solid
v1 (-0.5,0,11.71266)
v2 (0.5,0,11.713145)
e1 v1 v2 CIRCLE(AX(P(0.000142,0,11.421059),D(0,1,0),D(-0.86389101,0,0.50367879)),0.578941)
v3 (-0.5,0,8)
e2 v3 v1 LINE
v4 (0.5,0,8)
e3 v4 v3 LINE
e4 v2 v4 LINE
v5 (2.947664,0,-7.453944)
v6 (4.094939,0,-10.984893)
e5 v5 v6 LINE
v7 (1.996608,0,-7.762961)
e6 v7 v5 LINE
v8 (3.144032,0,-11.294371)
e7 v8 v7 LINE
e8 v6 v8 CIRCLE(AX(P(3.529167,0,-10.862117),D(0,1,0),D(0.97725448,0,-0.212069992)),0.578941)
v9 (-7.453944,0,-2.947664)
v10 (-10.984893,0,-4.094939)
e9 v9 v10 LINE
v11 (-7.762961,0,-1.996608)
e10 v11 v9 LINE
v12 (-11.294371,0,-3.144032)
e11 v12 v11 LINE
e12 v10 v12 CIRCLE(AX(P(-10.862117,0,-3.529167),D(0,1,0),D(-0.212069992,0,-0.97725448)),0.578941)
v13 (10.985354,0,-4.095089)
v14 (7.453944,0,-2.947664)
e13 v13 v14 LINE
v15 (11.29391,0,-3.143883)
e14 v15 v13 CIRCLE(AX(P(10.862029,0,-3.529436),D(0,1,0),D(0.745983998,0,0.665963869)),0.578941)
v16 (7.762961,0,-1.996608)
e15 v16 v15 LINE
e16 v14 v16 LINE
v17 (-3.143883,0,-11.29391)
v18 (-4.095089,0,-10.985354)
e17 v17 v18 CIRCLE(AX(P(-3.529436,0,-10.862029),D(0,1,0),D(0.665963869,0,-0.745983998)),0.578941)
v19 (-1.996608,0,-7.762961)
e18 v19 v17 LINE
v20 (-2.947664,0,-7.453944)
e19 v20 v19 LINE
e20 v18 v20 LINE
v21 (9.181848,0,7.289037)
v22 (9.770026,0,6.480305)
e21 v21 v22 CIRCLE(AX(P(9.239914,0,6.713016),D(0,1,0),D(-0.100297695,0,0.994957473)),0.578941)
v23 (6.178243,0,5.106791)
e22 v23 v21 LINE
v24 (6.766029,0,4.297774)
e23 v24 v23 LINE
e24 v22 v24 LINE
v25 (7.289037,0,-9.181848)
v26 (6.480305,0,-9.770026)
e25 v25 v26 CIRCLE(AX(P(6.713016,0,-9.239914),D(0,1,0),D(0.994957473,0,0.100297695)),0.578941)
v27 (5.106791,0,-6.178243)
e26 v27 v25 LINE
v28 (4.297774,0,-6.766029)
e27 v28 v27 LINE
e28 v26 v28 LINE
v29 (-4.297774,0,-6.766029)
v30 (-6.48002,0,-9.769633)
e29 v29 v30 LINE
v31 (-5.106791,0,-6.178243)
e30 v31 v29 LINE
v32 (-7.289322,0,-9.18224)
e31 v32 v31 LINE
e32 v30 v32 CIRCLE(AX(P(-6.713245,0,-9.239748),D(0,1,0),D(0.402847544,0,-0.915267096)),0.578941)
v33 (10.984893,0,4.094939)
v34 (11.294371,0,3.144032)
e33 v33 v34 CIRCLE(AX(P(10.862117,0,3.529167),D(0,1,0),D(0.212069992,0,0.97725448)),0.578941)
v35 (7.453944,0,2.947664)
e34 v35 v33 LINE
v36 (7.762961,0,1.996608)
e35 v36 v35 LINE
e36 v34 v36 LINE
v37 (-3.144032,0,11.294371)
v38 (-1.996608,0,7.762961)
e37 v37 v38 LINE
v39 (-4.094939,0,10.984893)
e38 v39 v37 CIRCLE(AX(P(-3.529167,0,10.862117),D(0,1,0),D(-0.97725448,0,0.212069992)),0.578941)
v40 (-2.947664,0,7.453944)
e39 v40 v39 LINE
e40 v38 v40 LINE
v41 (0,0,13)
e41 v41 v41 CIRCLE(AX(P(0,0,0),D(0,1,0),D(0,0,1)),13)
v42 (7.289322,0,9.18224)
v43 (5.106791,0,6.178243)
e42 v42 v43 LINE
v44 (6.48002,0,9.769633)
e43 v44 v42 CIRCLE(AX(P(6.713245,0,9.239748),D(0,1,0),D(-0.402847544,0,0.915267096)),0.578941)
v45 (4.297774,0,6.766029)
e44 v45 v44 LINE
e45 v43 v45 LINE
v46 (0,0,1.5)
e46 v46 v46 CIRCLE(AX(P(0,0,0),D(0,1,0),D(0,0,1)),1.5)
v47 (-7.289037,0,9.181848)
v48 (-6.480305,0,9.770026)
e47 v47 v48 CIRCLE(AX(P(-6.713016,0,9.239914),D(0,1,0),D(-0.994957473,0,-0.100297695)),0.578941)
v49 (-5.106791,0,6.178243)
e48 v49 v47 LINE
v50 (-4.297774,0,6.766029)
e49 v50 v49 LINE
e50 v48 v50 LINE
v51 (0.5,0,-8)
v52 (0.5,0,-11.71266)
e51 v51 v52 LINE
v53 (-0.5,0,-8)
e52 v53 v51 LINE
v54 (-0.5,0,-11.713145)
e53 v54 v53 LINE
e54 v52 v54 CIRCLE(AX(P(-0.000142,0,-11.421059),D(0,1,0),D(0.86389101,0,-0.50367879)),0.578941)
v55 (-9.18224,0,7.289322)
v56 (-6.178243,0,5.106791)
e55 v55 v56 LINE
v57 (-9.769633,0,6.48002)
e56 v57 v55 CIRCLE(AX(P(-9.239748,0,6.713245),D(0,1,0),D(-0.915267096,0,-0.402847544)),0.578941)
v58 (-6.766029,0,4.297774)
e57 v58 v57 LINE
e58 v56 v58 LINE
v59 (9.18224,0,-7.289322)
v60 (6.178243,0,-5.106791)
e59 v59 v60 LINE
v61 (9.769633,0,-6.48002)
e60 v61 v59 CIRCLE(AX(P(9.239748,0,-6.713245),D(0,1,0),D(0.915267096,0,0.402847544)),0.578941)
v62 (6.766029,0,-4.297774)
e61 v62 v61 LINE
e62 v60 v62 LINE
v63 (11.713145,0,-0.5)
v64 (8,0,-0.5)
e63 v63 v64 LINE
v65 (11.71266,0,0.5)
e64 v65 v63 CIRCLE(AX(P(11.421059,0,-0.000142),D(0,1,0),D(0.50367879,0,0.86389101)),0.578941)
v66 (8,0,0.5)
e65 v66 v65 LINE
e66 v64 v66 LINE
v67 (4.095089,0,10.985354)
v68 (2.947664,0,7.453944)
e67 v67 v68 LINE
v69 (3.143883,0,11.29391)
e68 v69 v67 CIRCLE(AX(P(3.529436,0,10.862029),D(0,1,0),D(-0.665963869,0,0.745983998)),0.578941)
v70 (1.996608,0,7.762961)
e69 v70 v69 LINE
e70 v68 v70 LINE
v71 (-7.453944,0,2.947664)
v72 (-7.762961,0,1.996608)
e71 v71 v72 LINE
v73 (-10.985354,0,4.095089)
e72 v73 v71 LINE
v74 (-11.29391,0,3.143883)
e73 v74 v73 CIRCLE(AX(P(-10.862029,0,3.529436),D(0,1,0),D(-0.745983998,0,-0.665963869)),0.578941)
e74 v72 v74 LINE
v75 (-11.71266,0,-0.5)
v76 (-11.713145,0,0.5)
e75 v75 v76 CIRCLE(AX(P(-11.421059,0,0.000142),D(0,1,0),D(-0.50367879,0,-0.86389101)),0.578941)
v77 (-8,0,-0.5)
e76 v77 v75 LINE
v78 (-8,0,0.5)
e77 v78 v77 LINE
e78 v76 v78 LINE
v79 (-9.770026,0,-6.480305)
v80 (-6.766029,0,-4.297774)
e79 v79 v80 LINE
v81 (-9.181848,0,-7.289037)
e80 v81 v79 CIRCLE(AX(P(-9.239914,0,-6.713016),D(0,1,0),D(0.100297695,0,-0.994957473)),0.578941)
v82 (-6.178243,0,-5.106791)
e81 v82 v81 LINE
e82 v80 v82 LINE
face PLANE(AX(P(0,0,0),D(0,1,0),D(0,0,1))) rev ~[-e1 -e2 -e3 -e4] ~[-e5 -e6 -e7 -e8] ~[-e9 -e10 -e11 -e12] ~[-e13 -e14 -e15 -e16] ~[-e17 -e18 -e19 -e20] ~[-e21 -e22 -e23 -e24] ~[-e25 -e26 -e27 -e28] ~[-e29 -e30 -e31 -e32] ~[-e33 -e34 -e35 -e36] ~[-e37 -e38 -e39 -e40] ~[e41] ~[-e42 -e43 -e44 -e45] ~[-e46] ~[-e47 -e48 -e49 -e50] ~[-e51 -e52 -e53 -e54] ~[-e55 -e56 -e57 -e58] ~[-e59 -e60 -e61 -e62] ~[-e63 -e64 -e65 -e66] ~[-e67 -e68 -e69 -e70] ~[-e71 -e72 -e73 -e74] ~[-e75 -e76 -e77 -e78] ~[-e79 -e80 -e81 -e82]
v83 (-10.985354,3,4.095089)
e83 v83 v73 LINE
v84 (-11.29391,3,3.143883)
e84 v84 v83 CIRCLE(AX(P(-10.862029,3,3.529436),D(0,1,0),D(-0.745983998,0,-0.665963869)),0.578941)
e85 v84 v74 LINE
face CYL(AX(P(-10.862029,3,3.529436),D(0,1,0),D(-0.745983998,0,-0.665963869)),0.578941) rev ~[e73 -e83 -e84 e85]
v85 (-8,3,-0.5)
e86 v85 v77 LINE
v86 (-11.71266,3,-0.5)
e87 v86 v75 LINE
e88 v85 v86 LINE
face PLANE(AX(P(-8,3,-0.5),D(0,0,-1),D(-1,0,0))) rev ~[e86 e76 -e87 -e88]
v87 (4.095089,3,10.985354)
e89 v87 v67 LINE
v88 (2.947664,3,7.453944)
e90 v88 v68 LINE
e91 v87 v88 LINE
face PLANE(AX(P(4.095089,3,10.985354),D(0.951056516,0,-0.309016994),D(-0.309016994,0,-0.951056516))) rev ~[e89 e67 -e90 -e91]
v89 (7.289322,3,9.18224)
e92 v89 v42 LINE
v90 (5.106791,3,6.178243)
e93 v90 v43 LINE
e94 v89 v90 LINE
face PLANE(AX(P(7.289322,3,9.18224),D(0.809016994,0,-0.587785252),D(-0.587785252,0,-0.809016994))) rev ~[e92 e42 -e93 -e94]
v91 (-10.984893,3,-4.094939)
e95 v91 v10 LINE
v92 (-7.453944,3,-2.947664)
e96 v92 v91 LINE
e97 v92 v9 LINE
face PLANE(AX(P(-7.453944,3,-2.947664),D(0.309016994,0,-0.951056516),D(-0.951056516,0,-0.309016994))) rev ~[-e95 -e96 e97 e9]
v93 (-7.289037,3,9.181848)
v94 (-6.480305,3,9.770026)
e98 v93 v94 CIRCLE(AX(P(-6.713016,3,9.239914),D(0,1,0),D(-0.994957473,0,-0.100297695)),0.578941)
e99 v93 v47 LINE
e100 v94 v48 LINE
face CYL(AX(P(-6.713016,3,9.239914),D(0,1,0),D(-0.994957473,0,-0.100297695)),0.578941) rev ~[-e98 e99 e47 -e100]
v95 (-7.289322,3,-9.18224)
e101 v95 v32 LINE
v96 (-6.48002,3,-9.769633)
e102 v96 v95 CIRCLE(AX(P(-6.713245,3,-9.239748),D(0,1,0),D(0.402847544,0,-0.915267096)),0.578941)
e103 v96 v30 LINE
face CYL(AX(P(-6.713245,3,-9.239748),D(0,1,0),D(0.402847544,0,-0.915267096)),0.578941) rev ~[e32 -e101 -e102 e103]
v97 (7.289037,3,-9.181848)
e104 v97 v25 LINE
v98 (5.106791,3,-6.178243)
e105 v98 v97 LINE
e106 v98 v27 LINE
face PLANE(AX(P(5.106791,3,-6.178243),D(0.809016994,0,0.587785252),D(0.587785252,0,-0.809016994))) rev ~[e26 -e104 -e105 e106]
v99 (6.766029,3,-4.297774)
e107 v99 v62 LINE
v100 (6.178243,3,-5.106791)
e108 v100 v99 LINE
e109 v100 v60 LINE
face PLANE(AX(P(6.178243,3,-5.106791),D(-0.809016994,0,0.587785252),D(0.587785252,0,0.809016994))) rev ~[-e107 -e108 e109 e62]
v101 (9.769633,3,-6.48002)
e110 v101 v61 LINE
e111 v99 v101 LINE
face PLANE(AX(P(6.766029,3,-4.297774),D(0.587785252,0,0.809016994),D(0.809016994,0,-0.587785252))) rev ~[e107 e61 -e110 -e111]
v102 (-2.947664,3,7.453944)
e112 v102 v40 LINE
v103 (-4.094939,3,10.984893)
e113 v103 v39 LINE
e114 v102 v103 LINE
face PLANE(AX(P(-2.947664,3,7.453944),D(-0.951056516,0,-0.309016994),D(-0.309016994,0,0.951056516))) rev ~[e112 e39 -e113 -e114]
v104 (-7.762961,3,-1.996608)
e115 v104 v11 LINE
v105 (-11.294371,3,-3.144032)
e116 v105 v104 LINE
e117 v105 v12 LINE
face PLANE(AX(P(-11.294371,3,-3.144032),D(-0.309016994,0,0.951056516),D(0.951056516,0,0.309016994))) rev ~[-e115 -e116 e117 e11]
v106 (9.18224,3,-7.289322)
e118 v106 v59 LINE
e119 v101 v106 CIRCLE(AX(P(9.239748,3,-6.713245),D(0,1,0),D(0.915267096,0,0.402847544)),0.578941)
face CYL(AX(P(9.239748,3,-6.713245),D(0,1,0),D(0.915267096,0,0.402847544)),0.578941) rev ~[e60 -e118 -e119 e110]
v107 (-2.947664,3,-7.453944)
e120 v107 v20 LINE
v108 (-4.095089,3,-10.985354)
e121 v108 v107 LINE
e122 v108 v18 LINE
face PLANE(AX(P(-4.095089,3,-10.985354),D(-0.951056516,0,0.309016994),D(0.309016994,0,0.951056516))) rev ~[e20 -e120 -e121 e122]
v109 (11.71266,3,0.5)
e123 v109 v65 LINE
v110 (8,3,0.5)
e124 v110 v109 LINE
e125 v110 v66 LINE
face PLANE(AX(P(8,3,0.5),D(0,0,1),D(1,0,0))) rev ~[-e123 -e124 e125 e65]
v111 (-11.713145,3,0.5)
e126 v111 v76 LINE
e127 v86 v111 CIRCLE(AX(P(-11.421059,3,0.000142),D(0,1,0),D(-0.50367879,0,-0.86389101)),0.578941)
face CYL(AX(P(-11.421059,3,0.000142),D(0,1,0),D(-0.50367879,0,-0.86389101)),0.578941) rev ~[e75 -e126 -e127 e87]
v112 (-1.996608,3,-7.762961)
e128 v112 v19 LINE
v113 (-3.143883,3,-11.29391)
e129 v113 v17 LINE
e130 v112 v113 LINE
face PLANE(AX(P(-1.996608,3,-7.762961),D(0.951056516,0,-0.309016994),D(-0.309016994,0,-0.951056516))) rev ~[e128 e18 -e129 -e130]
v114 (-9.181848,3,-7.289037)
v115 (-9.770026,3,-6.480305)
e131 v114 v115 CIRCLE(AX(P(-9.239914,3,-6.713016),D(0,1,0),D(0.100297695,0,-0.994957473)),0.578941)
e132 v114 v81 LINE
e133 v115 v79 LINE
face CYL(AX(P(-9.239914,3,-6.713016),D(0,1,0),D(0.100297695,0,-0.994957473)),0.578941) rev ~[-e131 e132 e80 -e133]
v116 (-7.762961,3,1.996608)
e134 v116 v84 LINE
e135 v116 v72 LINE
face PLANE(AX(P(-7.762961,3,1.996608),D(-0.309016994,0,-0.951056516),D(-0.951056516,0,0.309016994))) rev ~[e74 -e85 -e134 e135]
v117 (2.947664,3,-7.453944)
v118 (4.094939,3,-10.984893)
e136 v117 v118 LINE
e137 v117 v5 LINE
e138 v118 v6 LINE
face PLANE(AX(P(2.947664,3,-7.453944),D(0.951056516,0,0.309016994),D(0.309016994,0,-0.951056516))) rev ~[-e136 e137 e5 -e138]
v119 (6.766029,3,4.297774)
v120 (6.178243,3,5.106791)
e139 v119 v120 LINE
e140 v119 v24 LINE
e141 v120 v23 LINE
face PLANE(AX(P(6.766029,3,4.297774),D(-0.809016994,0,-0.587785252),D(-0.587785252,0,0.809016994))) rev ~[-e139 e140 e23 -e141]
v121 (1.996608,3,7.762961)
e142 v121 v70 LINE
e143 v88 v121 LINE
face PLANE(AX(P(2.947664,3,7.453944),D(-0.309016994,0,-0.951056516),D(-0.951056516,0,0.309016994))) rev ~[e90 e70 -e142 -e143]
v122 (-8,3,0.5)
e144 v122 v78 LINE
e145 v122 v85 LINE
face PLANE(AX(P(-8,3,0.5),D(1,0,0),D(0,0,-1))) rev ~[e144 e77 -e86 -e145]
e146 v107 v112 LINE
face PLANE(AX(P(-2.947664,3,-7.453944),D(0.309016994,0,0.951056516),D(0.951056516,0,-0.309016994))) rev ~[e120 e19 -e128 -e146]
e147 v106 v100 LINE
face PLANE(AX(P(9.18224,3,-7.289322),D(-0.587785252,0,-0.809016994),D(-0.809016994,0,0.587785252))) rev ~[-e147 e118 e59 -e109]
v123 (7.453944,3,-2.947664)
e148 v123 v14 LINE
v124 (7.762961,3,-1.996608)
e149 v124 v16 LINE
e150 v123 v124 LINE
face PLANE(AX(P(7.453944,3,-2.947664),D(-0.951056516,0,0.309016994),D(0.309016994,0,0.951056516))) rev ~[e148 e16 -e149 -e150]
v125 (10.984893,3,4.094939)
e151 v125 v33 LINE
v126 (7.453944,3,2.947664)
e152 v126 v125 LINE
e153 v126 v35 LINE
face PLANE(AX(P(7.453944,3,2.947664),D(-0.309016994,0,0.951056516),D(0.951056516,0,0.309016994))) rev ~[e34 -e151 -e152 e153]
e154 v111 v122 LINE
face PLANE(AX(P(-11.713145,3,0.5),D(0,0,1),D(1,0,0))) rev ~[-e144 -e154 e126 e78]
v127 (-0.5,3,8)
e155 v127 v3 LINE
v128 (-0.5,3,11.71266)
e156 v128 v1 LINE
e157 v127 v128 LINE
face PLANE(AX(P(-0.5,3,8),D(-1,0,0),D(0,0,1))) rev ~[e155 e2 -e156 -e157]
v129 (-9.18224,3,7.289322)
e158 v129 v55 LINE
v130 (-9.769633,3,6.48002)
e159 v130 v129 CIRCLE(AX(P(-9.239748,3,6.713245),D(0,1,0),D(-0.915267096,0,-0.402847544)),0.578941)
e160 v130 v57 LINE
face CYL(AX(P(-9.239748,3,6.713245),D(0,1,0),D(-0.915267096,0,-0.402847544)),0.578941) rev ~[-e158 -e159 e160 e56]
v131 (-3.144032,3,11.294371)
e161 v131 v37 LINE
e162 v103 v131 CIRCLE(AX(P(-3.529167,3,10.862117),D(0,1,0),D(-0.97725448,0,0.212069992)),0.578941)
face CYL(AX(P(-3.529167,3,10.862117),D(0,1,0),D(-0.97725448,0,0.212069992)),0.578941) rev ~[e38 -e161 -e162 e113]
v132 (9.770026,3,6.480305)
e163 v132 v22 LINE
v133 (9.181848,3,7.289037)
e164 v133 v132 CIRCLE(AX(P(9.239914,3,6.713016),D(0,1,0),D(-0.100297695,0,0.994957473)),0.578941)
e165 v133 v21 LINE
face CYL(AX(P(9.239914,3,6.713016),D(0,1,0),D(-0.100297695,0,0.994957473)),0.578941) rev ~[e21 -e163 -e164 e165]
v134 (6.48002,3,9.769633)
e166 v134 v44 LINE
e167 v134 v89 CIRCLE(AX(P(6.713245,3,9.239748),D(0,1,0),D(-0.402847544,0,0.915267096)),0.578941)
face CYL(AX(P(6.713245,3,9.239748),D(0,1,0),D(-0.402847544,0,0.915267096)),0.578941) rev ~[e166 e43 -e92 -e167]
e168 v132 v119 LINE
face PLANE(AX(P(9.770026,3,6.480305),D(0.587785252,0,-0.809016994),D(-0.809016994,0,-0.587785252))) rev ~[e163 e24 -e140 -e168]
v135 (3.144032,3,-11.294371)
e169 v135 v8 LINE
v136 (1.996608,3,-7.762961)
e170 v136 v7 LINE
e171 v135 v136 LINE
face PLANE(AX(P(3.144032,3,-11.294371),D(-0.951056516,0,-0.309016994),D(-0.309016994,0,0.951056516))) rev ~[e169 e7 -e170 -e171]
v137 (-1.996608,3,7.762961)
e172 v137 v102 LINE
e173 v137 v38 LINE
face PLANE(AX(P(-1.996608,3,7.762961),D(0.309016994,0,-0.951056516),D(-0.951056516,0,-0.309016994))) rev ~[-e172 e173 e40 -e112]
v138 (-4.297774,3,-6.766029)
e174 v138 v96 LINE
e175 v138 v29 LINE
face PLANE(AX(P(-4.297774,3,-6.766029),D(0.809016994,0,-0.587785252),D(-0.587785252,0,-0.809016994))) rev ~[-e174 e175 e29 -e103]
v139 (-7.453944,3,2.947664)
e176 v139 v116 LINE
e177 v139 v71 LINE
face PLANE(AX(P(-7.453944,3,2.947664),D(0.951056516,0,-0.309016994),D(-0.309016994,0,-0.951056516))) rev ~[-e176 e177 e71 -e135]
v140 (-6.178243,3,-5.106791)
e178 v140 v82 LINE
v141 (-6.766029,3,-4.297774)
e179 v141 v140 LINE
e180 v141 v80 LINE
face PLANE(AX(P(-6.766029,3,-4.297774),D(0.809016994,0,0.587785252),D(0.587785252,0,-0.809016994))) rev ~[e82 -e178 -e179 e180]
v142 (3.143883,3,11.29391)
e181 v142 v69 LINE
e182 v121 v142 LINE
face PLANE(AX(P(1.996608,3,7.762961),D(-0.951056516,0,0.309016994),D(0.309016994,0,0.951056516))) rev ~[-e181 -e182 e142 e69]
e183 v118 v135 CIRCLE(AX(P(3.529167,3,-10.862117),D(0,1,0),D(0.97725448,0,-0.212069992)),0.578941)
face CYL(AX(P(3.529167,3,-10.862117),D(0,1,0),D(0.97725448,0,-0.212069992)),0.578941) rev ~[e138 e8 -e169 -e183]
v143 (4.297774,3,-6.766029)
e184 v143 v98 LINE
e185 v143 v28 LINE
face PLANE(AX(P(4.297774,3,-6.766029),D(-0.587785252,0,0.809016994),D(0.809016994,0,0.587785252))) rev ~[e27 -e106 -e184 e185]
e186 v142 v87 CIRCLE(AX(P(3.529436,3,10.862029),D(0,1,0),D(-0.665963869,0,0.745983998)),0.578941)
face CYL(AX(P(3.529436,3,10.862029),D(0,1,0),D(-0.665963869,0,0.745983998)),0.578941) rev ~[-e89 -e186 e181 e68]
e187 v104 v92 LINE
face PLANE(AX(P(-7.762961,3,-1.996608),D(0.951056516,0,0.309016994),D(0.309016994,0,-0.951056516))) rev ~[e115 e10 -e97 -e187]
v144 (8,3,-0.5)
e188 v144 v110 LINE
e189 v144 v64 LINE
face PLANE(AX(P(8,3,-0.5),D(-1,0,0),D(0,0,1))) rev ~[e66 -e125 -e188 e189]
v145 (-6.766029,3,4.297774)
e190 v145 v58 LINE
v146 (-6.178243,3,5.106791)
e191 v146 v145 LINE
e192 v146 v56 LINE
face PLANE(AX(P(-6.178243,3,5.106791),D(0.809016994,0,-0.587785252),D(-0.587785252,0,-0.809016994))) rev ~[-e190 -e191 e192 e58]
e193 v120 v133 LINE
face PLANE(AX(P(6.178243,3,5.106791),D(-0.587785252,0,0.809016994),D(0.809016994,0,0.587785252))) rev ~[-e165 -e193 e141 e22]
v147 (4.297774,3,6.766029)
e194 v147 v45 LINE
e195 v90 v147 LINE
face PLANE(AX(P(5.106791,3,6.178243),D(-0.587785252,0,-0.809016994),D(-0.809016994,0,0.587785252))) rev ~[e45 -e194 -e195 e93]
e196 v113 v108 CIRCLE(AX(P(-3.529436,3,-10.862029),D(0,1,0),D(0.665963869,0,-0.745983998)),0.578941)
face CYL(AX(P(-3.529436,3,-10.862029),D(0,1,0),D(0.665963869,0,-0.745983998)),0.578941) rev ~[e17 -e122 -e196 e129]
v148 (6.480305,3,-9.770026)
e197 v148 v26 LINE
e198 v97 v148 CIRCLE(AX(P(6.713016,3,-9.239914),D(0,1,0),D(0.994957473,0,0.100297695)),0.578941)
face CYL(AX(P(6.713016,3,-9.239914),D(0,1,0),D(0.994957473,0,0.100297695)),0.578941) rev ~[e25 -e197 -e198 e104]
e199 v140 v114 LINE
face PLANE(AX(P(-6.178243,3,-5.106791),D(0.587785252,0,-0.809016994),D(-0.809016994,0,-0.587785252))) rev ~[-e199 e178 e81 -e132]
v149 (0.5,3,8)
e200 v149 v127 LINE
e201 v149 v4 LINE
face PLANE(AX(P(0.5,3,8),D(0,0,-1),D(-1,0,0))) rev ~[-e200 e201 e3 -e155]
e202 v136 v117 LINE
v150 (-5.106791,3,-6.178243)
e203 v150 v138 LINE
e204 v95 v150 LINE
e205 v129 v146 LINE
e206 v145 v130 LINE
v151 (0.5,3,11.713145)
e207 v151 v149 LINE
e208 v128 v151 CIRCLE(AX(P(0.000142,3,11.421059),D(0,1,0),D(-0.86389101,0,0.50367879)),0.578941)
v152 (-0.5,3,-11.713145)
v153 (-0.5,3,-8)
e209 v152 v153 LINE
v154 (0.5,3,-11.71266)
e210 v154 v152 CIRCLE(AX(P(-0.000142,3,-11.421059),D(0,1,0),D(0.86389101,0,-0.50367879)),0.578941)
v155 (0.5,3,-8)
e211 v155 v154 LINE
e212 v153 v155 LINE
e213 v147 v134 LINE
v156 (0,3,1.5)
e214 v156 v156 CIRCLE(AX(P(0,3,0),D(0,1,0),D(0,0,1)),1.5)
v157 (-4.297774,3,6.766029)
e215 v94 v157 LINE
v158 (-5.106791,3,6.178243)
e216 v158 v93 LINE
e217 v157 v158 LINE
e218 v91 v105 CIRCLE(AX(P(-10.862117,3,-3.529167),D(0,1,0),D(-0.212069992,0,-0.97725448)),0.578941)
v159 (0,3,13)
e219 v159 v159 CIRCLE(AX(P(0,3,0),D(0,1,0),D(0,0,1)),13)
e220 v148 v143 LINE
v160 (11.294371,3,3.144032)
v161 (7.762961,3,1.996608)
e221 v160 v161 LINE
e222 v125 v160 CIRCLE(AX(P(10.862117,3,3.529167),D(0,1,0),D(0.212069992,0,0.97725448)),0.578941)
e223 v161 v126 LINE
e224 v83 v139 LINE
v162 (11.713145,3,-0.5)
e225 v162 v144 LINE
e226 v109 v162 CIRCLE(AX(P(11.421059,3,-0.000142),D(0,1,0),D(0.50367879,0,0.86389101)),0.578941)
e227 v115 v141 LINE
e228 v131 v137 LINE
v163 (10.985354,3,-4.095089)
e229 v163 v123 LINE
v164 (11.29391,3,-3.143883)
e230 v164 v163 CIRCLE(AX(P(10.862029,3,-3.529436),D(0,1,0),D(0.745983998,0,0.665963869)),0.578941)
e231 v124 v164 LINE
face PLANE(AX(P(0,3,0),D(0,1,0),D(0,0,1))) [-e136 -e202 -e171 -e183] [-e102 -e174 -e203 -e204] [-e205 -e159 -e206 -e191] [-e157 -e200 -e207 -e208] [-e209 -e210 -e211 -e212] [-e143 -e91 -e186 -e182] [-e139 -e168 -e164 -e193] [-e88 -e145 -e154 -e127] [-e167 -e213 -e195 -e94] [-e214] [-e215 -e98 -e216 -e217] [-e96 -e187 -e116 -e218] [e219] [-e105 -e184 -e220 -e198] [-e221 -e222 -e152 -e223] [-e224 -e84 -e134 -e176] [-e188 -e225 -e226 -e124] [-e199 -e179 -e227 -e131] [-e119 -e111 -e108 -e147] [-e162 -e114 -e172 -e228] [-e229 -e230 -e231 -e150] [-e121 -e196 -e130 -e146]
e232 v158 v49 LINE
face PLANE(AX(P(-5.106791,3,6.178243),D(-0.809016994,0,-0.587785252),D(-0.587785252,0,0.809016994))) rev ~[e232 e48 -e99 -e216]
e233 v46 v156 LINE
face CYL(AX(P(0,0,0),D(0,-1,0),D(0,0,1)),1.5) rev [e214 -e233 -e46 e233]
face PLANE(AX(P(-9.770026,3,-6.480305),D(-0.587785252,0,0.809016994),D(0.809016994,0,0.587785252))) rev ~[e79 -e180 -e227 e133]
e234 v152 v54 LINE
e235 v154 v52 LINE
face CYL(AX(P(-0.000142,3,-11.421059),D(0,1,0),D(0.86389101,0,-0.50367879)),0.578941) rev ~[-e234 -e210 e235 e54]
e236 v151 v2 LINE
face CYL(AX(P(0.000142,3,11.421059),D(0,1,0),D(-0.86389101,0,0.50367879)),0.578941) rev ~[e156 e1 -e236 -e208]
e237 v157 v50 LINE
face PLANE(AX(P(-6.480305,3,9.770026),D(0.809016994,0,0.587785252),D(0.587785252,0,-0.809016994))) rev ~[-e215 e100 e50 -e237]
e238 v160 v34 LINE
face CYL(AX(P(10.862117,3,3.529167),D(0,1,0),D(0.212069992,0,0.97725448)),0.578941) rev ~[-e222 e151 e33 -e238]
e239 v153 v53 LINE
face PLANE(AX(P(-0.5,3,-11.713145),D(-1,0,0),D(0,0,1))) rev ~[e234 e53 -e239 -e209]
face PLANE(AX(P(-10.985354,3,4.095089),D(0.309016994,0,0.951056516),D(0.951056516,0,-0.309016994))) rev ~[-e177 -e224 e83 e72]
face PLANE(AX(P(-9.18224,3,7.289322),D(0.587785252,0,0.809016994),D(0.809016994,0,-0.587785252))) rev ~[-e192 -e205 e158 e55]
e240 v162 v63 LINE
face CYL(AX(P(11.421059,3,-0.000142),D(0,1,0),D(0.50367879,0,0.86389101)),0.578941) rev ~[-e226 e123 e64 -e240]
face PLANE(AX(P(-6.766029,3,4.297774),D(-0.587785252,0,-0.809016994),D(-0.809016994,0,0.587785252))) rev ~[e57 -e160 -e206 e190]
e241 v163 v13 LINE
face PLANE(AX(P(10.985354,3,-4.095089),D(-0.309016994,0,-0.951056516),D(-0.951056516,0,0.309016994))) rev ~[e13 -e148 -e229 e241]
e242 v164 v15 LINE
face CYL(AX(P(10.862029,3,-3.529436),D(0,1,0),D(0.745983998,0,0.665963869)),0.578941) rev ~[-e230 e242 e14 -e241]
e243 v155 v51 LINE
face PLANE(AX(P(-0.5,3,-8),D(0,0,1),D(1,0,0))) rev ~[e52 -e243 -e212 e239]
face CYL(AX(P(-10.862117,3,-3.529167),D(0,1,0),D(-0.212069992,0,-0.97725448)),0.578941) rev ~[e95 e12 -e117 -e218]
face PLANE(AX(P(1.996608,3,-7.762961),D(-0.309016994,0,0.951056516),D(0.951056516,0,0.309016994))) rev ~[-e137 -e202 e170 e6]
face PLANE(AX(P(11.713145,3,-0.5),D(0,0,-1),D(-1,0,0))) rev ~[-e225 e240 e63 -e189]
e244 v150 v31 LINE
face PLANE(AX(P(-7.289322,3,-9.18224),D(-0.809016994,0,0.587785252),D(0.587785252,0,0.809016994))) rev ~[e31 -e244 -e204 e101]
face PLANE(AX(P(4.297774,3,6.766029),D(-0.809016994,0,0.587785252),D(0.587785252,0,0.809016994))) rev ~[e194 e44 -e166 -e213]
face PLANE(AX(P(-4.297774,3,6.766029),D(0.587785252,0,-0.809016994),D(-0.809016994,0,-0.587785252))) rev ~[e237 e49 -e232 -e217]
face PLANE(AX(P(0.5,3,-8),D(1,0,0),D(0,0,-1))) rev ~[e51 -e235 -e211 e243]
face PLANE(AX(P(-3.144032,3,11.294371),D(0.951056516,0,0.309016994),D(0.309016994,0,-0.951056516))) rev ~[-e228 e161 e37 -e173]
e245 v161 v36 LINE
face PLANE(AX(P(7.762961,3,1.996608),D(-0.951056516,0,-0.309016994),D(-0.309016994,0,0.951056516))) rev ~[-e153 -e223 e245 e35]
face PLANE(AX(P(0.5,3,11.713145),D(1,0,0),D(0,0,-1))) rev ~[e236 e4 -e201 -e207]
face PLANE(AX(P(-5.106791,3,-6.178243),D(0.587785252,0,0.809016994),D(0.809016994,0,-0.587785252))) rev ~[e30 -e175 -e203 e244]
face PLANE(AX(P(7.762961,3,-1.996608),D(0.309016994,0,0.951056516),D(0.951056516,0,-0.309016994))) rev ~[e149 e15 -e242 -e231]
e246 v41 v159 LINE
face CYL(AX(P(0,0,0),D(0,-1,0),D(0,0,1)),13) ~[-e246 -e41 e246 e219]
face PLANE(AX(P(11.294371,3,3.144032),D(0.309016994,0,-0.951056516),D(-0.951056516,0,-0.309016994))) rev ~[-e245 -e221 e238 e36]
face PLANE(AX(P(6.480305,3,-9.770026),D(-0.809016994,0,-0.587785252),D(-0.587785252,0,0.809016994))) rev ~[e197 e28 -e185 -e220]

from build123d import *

# Parameters (mm, degrees)
CROQUIS1_R              = 13
CROQUIS1_R_2            = 1.5
SALIENTE_EXTRUIR1_DEPTH = 3
CORTAR_EXTRUIR1_DEPTH   = 3
MATRIZC1_COUNT          = 20


with BuildPart() as part:
    # Croquis1 → Saliente-Extruir1 (new body)
    with BuildSketch(Plane(origin=(0, 0, 0), x_dir=(1, 0, 0), z_dir=(0, 1, 0))):
        with Locations(Location((0, 0, 0), (0, 0, 270))):
            Circle(CROQUIS1_R)
        with Locations(Location((0, 0, 0), (0, 0, 270))):
            Circle(CROQUIS1_R_2, mode=Mode.SUBTRACT)
    extrude(amount=SALIENTE_EXTRUIR1_DEPTH)

    # Croquis2 → Cortar-Extruir1 (cut)
    with BuildSketch(Plane(origin=(0, 3, 0), x_dir=(1, 0, 0), z_dir=(0, 1, 0))):
        with BuildLine():
            Line((-0.5, 8), (0.5, 8))
            Line((0.5, 8), (0.5, 11.712659584))
            ThreePointArc((0.5, 11.712659584), (0.000139252, 12), (-0.5, 11.713144616))
            Line((-0.5, 11.713144616), (-0.5, 8))
        make_face()
    cortar_extruir1 = extrude(amount=-CORTAR_EXTRUIR1_DEPTH, mode=Mode.SUBTRACT)

    # MatrizC1: Cortar-Extruir1 ×20 about axis
    matrizc1_axis = Axis((0, 0, 0), (0, 1, 0))
    for i in range(1, MATRIZC1_COUNT):
        add(cortar_extruir1.rotate(matrizc1_axis, i * 360 / MATRIZC1_COUNT), mode=Mode.SUBTRACT)


solid = part.part
